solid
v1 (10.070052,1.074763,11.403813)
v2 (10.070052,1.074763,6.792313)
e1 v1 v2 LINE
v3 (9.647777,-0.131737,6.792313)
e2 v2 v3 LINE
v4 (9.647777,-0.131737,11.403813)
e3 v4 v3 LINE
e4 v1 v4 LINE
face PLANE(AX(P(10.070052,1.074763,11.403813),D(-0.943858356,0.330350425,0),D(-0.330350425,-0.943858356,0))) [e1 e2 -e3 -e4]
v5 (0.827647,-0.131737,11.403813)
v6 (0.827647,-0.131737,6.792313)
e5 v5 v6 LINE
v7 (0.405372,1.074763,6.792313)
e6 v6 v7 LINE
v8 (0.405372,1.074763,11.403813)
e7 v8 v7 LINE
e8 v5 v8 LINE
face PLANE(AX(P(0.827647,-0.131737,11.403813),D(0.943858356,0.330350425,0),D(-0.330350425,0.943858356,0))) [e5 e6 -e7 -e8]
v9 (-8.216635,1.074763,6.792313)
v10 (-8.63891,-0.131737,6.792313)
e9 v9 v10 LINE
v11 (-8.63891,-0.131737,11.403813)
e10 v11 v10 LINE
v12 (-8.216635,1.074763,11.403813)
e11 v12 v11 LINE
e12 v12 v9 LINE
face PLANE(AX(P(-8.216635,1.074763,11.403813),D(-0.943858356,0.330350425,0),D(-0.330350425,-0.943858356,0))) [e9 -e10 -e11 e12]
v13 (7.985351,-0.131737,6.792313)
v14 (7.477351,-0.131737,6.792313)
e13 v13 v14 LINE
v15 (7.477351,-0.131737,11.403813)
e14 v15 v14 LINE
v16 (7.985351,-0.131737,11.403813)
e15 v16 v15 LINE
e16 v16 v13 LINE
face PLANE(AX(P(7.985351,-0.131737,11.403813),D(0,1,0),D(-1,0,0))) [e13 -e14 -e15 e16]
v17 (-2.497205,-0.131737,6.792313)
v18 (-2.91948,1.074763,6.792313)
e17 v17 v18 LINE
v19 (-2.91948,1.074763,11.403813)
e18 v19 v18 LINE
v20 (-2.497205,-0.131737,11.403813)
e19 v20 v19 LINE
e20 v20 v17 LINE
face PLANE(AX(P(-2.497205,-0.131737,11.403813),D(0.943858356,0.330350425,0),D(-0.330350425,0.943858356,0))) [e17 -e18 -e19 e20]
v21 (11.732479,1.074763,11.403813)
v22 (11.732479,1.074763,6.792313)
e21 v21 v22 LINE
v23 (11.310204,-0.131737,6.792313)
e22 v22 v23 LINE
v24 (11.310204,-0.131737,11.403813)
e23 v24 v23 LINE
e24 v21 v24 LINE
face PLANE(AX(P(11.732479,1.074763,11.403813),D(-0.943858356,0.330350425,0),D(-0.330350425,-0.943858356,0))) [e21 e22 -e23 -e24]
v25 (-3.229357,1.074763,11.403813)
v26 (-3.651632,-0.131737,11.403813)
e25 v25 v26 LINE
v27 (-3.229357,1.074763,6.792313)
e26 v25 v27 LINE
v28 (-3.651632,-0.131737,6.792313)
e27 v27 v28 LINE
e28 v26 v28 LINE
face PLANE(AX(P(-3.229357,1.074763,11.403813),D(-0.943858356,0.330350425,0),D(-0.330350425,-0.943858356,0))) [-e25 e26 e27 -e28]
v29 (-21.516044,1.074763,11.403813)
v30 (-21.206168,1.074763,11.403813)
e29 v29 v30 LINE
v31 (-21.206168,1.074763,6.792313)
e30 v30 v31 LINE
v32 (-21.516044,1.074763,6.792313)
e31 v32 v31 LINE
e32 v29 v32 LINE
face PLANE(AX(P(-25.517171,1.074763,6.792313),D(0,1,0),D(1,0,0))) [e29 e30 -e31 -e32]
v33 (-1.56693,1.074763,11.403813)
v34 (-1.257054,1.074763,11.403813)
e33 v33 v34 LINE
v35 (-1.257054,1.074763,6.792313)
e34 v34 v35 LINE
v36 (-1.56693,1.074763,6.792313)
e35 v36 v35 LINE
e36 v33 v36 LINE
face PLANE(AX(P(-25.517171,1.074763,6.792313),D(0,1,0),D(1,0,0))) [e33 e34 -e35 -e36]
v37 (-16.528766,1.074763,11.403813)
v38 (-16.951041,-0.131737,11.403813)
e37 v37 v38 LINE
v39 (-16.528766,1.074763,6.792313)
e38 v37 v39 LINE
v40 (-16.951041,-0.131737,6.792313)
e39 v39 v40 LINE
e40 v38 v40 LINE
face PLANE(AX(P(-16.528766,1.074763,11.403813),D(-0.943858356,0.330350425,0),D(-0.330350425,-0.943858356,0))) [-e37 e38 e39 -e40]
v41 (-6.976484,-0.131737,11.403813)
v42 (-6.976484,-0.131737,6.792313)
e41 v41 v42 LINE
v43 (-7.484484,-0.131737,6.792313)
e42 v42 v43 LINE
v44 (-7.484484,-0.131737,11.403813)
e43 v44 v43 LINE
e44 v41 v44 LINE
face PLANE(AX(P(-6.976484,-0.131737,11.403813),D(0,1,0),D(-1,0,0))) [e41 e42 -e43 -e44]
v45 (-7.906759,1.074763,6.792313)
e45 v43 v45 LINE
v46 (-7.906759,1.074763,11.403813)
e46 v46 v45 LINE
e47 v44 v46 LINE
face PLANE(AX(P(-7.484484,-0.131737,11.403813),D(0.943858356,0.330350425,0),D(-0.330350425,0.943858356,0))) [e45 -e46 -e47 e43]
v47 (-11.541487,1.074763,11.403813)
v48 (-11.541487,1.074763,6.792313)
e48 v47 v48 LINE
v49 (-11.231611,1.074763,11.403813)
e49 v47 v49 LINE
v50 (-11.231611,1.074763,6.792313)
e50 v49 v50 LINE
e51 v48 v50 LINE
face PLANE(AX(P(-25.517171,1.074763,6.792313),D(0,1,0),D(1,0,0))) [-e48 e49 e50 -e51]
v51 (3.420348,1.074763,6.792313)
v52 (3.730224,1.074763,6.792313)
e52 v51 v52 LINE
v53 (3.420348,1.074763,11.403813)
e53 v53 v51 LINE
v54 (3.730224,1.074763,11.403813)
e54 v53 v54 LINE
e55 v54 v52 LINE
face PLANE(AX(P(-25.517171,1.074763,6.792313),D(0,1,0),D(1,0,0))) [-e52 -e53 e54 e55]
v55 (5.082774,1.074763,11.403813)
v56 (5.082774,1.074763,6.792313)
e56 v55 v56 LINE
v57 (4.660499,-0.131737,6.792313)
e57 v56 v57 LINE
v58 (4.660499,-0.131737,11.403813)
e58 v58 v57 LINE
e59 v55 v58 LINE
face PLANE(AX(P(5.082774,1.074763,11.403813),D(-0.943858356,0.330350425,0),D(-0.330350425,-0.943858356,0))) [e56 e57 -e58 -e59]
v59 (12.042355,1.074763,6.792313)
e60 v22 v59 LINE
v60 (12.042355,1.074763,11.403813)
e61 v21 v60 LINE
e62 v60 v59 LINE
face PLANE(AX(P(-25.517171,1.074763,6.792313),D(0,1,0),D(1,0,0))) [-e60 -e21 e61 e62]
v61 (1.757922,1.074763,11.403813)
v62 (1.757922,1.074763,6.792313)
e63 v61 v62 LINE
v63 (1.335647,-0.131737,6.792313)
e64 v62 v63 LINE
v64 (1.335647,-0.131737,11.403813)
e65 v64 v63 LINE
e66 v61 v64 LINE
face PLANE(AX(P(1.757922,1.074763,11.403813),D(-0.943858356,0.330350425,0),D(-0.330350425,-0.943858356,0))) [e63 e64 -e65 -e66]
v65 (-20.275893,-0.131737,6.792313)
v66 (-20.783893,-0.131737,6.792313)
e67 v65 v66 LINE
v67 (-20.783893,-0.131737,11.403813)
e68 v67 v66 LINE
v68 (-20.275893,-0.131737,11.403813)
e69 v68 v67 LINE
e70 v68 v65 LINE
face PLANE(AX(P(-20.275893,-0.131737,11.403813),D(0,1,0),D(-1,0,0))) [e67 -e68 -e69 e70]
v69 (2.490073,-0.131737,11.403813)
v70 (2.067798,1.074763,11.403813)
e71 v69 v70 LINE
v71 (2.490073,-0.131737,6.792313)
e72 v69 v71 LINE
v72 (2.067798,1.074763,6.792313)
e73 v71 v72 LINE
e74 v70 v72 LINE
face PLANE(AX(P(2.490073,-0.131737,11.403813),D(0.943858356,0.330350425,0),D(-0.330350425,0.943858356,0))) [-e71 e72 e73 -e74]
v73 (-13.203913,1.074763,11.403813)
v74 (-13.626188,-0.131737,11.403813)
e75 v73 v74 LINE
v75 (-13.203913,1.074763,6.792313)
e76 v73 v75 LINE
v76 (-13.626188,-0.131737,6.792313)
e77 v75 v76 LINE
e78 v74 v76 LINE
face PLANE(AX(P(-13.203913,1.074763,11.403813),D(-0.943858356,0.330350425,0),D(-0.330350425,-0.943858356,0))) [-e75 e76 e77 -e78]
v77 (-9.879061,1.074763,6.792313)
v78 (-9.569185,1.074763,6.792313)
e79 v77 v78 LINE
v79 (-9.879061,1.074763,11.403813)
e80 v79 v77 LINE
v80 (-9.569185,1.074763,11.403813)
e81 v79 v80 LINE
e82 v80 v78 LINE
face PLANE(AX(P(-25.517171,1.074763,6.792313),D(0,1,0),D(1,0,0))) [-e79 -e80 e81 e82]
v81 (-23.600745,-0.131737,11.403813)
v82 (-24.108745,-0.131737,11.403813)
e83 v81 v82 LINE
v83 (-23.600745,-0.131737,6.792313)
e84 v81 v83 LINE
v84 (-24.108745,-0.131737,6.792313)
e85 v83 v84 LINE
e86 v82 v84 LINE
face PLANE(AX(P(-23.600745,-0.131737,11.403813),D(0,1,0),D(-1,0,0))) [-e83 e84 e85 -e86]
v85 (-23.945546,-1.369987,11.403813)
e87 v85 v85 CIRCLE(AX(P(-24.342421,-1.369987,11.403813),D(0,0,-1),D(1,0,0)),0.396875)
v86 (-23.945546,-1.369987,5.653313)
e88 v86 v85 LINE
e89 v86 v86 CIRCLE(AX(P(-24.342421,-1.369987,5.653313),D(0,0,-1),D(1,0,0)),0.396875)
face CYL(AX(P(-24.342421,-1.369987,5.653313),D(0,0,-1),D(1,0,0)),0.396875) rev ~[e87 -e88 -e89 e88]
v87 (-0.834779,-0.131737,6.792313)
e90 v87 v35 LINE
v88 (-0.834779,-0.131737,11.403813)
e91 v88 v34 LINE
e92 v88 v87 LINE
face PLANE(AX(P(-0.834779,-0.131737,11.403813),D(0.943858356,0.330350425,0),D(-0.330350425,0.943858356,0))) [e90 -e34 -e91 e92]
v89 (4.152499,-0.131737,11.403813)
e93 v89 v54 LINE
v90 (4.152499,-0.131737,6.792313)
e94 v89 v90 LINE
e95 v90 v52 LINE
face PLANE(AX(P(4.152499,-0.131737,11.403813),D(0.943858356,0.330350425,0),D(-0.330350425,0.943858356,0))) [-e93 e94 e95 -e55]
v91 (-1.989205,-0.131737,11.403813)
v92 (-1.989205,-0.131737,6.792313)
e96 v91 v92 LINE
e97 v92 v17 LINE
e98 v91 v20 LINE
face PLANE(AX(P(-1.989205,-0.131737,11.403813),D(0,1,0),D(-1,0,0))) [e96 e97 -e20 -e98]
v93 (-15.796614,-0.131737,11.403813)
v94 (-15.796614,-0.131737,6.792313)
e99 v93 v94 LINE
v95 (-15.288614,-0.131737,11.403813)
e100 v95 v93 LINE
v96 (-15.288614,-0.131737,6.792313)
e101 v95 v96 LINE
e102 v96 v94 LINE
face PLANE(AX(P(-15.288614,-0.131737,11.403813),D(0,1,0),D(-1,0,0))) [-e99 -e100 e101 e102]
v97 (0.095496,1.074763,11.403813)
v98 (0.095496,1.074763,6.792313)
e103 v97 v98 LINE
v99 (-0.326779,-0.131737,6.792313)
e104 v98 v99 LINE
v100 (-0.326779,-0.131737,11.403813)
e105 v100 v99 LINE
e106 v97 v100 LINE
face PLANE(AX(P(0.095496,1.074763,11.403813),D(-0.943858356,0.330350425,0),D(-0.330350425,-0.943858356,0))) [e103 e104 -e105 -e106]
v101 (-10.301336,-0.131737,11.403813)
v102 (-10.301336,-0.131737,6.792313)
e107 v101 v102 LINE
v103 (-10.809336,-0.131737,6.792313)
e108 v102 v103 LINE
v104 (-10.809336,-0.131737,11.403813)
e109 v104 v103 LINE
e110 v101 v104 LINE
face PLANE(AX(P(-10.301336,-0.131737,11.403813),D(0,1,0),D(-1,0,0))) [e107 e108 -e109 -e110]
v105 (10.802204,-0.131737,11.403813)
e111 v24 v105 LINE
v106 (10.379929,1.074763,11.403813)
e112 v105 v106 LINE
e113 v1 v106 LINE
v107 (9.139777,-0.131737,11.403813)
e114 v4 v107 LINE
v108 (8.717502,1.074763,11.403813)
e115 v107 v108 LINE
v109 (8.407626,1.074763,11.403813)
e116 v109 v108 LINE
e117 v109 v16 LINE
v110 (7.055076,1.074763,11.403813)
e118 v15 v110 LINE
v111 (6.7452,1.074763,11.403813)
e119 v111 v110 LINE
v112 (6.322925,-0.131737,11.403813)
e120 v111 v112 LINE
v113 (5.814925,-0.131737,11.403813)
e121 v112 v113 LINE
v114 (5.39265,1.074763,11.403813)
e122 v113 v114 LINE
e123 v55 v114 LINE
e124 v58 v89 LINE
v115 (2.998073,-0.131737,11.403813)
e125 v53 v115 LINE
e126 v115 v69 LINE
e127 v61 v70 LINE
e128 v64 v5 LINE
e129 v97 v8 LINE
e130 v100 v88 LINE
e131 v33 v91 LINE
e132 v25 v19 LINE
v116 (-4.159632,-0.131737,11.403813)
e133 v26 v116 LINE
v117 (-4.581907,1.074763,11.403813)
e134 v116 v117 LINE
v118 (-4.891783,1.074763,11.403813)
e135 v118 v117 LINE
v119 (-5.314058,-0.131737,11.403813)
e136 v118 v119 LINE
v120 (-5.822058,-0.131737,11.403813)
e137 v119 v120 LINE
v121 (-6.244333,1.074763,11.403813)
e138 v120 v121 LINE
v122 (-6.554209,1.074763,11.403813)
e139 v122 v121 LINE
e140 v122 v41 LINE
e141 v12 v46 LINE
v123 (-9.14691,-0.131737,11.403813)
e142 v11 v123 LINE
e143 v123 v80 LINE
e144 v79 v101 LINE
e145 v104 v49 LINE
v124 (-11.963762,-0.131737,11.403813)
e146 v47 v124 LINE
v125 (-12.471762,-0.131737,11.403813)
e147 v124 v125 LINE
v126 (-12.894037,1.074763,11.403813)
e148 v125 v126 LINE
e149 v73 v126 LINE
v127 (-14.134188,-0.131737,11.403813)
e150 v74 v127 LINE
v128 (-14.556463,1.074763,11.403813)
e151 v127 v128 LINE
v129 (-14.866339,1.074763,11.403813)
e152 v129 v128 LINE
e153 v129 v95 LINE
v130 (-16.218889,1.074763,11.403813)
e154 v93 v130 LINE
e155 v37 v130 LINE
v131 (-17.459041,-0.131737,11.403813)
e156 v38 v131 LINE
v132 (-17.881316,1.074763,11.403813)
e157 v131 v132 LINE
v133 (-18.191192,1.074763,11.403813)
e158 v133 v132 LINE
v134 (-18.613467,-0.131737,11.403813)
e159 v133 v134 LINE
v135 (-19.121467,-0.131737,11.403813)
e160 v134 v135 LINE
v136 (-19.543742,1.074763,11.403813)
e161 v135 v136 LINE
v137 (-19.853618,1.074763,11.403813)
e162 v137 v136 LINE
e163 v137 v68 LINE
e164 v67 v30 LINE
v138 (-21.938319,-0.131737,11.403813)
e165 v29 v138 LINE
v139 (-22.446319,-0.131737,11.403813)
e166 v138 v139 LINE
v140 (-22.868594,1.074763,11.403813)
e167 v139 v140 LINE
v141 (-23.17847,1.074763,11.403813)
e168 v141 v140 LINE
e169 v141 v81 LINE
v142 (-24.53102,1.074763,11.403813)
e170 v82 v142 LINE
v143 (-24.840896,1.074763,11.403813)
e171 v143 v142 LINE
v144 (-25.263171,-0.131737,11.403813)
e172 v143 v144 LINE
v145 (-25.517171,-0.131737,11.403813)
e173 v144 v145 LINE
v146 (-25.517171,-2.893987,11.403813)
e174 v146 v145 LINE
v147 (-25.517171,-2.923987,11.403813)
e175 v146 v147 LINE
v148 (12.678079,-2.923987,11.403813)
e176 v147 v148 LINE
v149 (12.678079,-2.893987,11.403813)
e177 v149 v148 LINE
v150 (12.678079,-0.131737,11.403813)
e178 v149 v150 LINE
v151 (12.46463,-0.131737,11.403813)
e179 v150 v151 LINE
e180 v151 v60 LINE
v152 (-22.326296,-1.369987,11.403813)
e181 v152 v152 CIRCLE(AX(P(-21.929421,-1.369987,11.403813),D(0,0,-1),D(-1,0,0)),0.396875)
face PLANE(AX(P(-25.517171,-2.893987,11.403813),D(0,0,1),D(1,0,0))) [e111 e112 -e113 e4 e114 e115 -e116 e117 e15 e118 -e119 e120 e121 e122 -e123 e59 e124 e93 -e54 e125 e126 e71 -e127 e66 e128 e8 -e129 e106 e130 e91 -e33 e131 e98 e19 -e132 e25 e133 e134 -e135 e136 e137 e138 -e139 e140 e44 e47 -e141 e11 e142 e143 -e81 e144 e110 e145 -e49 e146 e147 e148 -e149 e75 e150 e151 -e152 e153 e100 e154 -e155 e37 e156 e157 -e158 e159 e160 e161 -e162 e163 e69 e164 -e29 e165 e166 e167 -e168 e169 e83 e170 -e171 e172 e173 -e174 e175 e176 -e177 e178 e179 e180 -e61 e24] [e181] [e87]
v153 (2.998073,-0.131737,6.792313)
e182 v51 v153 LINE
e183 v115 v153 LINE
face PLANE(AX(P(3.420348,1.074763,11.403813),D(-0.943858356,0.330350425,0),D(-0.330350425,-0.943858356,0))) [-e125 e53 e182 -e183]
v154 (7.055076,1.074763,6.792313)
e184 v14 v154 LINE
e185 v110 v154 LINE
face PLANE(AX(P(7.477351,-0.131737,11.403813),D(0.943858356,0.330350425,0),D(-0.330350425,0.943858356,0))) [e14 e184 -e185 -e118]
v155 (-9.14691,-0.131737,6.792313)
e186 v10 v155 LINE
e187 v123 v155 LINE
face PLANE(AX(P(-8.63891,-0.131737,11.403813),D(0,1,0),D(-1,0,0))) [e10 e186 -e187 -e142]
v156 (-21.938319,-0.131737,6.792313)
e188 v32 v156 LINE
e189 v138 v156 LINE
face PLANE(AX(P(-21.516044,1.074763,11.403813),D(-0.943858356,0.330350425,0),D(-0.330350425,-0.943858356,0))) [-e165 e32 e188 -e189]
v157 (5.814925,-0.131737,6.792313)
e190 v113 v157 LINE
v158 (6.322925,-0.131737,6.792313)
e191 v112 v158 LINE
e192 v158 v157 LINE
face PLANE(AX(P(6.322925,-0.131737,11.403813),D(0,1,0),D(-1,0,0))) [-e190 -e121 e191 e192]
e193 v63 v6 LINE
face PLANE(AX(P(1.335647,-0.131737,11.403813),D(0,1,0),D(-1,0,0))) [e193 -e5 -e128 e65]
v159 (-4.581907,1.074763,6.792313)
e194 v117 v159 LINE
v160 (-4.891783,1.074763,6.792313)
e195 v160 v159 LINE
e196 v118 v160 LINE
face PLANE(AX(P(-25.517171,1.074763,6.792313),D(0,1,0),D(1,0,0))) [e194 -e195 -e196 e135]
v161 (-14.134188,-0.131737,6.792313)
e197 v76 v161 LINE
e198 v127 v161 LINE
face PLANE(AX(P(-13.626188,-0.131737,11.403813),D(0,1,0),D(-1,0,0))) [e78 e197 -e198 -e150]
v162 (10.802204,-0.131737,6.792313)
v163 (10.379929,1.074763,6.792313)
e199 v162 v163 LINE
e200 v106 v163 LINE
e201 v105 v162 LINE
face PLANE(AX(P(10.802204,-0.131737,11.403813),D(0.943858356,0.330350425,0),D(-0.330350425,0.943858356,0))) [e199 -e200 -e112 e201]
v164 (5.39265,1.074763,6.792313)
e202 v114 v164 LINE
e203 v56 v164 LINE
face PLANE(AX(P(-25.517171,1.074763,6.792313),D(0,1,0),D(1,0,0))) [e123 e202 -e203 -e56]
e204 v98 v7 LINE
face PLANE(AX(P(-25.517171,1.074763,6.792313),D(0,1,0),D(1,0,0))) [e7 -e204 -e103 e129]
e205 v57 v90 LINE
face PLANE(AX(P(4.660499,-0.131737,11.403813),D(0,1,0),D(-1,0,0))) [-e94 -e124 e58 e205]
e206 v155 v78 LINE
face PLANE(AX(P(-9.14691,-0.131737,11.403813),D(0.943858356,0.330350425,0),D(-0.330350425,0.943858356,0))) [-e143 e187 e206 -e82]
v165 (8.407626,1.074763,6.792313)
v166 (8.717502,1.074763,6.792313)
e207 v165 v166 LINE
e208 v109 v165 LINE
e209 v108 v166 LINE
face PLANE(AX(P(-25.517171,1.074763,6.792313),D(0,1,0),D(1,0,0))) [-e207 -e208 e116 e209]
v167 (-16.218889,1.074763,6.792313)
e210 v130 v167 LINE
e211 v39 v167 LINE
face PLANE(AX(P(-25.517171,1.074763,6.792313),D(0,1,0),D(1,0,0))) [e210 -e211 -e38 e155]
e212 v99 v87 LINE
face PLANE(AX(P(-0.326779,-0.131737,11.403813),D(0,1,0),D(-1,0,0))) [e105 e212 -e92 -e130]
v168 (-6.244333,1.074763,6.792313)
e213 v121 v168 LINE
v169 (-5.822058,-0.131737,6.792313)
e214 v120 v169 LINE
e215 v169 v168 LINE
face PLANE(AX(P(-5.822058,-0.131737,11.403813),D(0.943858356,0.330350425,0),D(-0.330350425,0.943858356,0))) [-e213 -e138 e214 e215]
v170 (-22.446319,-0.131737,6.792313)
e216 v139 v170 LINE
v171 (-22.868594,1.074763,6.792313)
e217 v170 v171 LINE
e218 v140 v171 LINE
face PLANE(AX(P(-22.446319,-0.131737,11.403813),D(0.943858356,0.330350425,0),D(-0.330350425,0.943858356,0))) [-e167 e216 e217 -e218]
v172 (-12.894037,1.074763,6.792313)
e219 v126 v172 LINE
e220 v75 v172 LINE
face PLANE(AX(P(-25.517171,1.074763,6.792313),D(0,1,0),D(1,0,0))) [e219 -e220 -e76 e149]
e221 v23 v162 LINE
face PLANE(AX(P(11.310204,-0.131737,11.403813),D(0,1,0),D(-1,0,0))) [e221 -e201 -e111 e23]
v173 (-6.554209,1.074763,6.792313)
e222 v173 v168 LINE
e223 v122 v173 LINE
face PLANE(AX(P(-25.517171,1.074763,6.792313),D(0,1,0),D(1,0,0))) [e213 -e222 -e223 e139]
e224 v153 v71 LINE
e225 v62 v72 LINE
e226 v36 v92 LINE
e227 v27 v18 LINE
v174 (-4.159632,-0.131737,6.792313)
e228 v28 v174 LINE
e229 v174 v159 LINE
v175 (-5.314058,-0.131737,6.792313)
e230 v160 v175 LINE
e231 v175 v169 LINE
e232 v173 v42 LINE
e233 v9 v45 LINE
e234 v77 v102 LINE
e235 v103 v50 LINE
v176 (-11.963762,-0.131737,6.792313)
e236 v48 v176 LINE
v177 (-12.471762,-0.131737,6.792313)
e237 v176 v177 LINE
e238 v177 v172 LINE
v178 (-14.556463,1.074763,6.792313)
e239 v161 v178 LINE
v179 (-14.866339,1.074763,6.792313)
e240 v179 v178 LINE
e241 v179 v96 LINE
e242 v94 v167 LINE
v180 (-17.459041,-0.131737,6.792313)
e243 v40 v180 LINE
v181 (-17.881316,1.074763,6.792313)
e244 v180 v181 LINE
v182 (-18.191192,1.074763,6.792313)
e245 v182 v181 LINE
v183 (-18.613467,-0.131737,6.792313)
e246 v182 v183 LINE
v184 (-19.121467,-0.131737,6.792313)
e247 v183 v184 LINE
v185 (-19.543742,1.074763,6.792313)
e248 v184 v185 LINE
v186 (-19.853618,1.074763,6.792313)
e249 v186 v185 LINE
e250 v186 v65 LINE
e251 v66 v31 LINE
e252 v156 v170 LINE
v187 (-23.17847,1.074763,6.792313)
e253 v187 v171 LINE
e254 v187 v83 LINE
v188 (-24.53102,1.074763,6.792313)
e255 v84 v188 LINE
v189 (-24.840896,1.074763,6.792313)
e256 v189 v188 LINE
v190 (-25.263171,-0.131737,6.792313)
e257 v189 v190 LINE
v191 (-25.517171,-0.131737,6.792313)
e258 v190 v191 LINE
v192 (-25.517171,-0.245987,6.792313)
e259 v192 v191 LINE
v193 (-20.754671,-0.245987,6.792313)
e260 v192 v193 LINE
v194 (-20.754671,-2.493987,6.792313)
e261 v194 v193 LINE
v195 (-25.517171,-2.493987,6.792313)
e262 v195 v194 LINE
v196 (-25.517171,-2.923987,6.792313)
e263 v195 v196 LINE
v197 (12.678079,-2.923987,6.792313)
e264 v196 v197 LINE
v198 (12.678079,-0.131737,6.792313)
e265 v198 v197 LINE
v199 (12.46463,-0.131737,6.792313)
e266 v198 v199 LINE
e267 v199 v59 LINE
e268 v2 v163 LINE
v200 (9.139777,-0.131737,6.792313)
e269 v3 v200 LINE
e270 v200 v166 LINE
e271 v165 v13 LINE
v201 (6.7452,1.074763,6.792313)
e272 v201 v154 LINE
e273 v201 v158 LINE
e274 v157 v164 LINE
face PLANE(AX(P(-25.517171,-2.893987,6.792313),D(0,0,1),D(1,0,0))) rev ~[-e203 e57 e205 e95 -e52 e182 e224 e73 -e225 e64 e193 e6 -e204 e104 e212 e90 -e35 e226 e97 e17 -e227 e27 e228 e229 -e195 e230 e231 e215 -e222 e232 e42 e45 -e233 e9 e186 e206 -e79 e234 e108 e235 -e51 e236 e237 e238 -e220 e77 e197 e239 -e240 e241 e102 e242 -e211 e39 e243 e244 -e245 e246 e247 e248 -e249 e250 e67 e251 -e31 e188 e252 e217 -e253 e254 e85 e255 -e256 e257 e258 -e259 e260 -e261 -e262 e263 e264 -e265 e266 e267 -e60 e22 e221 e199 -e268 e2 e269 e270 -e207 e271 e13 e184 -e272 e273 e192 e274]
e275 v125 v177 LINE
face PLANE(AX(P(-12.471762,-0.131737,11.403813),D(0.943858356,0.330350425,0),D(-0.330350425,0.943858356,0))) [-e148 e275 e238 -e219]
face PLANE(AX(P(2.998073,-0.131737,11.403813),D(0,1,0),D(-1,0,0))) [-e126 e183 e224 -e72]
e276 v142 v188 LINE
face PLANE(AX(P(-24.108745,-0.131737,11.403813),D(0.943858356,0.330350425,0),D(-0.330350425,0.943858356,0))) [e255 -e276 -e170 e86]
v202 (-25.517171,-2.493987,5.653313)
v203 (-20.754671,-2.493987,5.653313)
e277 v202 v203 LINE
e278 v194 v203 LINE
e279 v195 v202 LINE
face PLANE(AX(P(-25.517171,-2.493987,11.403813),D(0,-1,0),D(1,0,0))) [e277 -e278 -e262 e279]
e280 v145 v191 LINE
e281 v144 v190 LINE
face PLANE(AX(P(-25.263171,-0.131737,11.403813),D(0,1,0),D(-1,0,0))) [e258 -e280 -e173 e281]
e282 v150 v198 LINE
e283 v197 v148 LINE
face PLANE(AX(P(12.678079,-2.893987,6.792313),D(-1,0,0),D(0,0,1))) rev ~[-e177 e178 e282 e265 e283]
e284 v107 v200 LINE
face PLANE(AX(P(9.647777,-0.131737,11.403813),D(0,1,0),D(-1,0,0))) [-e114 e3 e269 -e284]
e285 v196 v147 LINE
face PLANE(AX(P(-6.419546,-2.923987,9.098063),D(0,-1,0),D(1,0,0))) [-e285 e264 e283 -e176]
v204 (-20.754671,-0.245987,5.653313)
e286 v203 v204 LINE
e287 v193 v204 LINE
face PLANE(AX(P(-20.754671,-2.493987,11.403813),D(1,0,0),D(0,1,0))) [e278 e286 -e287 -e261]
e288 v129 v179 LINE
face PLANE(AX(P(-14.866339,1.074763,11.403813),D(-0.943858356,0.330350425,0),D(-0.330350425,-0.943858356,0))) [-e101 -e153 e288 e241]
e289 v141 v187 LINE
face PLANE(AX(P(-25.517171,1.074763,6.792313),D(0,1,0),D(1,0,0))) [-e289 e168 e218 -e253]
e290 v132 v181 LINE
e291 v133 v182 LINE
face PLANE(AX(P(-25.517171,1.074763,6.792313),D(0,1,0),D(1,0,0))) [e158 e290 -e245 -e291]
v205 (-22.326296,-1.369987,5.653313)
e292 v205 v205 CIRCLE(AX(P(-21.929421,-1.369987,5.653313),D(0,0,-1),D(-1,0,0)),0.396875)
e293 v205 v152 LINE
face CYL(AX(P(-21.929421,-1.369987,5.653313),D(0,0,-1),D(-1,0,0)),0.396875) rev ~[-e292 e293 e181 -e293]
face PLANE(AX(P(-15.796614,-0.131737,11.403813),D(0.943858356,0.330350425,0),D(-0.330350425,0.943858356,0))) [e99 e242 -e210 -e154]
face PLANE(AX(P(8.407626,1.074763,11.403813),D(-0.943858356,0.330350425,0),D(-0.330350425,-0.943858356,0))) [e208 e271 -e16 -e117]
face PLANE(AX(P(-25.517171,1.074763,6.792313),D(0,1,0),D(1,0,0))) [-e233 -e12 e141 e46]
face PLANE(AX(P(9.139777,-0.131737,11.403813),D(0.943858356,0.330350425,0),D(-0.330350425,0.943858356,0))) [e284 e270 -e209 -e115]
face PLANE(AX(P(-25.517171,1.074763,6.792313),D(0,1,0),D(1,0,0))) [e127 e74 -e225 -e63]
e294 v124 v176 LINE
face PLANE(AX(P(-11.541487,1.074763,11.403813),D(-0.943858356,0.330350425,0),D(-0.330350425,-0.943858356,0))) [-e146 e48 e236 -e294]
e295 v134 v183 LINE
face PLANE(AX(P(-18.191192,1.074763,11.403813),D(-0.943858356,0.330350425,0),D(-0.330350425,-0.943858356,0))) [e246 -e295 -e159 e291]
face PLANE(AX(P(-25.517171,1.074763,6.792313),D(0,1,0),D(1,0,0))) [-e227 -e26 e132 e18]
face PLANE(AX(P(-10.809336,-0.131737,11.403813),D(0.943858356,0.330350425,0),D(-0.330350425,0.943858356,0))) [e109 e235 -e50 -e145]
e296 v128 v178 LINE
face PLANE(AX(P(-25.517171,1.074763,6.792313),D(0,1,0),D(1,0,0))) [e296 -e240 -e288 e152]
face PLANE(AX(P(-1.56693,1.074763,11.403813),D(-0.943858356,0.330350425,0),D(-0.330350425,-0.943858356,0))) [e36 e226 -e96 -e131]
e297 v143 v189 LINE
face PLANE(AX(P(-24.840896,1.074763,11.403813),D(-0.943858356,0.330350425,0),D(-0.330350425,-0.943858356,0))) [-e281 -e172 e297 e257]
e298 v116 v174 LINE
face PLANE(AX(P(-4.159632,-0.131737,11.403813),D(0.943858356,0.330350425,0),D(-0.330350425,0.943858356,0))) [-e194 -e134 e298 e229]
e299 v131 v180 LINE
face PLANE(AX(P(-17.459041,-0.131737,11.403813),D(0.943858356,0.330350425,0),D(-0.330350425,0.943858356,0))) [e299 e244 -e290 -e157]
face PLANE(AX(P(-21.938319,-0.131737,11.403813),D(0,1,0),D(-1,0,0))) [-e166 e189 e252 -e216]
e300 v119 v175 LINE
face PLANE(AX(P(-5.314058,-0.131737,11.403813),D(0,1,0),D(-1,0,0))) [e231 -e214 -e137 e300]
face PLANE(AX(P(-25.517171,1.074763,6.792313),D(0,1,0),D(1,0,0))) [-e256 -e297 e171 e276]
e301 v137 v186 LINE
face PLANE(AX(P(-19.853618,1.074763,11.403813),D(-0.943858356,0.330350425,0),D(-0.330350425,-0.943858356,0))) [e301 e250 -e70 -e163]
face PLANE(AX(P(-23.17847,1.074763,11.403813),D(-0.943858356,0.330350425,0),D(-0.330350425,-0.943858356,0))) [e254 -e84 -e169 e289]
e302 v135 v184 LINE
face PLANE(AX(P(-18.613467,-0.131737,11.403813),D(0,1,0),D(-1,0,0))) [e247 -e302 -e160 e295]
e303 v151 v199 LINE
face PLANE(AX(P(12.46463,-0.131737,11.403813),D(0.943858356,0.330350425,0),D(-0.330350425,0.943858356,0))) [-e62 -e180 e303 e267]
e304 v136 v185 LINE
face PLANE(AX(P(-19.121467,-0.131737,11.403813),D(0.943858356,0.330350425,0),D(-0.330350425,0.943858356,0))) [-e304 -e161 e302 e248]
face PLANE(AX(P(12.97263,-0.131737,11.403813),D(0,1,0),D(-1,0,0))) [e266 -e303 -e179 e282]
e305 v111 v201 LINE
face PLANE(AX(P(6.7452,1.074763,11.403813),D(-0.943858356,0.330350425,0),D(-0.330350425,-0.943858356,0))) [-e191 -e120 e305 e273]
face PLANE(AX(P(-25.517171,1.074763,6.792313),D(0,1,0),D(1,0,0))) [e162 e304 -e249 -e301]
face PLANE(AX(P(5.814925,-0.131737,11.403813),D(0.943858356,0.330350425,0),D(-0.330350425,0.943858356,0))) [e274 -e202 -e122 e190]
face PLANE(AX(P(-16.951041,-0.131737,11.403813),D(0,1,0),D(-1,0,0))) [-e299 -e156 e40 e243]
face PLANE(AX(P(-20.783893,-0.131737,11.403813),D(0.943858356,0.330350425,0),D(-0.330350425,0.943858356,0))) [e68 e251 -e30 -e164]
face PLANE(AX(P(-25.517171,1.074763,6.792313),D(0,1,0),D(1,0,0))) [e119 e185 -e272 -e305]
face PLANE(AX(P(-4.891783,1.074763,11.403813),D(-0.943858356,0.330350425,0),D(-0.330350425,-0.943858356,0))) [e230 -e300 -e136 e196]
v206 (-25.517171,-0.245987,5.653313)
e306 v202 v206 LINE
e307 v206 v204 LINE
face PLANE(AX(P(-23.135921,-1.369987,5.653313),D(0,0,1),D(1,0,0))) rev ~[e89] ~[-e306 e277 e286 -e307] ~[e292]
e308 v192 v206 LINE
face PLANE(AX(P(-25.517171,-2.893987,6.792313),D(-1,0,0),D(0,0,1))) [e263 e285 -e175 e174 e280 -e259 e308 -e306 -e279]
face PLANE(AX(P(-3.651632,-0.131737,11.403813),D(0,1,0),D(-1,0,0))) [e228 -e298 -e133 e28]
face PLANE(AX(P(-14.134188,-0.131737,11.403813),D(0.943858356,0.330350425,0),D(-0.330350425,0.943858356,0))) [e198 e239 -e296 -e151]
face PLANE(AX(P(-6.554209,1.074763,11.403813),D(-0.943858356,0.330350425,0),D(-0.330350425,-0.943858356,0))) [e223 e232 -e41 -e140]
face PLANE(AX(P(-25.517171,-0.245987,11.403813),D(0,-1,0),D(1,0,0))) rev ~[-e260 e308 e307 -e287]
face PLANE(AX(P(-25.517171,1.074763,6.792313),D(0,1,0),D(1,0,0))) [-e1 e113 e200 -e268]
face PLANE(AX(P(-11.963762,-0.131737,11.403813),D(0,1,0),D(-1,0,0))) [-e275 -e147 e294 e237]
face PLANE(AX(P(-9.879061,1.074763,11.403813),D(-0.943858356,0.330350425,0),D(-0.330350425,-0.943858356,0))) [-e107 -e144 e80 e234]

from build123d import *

# Parameters (mm, degrees)
CROQUIS1_W              = 199.517
CROQUIS1_H              = 15.875
SALIENTE_EXTRUIR1_DEPTH = 18.445999938
CORTAR_EXTRUIR3_DEPTH   = 102.759604668
MATRIZL1_COUNT          = 32
MATRIZL1_PITCH          = 6.649704506
CROQUIS5_W              = 19.05
CROQUIS5_H              = 8.992
SALIENTE_EXTRUIR2_DEPTH = 23.00199997
CROQUIS6_R              = 1.5875
CORTAR_EXTRUIR4_DEPTH   = 103.683271428
ESCALA1_SCALE           = 0.25
CROQUIS7_R              = 4.213965504
CORTAR_EXTRUIR5_DEPTH   = 11.684
CROQUIS8_W              = 38.19525
CROQUIS8_H              = 4.611499984
SALIENTE_EXTRUIR3_DEPTH = 0.03


with BuildPart() as part:
    # Croquis1 → Saliente-Extruir1 (new body)
    with BuildSketch(Plane.XY):
        Rectangle(CROQUIS1_W, CROQUIS1_H)
    extrude(amount=SALIENTE_EXTRUIR1_DEPTH)

    # Croquis4 → Cortar-Extruir3 (cut, through all)
    with BuildSketch(Plane.XY.offset(18.445999938)):
        Polygon((-98.7425, 3.1115), (-100.7745, 3.1115), (-102.4636, 7.9375), (-97.0534, 7.9375), align=None)
    cortar_extruir3 = extrude(amount=-CORTAR_EXTRUIR3_DEPTH, mode=Mode.SUBTRACT)

    # MatrizL1: Cortar-Extruir3 ×32
    with Locations(*[(i * MATRIZL1_PITCH, 0, 0) for i in range(1, MATRIZL1_COUNT)]):
        add(cortar_extruir3, mode=Mode.SUBTRACT)

    # Croquis5 → Saliente-Extruir2 (add)
    with BuildSketch(Plane.XY.offset(18.445999938)):
        with Locations((-90.2335, -1.8415)):
            Rectangle(CROQUIS5_W, CROQUIS5_H)
    extrude(amount=-SALIENTE_EXTRUIR2_DEPTH)

    # Croquis6 → Cortar-Extruir4 (cut, through all)
    with BuildSketch(Plane(origin=(0, 0, -4.556000032), x_dir=(-1, 0, 0), z_dir=(0, 0, -1))):
        with Locations((85.4075, -1.8415)):
            Circle(CROQUIS6_R)
        with Locations(Location((95.0595, -1.8415, 0), (0, 0, 180))):
            Circle(CROQUIS6_R)
    extrude(amount=-CORTAR_EXTRUIR4_DEPTH, mode=Mode.SUBTRACT)


with BuildPart() as part_1:
    # Escala1: scaled about (-0.770061652, -1.212816099, 9.056417428)
    add(part.part.scale(ESCALA1_SCALE).moved(Location((-0.577546239, -0.909612074, 6.792313071))))

    # Croquis7 → Cortar-Extruir5 (cut)
    with BuildSketch(Plane(origin=(24.362078761, 0, 0), x_dir=(0, 0, -1), z_dir=(1, 0, 0))):
        with Locations((-9.112278758, -1.455704097)):
            Circle(CROQUIS7_R)
    extrude(amount=-CORTAR_EXTRUIR5_DEPTH, mode=Mode.SUBTRACT)

    # Croquis8 → Saliente-Extruir3 (add)
    with BuildSketch(Plane.XZ.offset(2.893987074)):
        with Locations((-6.419546239, 9.098063063)):
            Rectangle(CROQUIS8_W, CROQUIS8_H)
    extrude(amount=SALIENTE_EXTRUIR3_DEPTH)


solid = part_1.part
